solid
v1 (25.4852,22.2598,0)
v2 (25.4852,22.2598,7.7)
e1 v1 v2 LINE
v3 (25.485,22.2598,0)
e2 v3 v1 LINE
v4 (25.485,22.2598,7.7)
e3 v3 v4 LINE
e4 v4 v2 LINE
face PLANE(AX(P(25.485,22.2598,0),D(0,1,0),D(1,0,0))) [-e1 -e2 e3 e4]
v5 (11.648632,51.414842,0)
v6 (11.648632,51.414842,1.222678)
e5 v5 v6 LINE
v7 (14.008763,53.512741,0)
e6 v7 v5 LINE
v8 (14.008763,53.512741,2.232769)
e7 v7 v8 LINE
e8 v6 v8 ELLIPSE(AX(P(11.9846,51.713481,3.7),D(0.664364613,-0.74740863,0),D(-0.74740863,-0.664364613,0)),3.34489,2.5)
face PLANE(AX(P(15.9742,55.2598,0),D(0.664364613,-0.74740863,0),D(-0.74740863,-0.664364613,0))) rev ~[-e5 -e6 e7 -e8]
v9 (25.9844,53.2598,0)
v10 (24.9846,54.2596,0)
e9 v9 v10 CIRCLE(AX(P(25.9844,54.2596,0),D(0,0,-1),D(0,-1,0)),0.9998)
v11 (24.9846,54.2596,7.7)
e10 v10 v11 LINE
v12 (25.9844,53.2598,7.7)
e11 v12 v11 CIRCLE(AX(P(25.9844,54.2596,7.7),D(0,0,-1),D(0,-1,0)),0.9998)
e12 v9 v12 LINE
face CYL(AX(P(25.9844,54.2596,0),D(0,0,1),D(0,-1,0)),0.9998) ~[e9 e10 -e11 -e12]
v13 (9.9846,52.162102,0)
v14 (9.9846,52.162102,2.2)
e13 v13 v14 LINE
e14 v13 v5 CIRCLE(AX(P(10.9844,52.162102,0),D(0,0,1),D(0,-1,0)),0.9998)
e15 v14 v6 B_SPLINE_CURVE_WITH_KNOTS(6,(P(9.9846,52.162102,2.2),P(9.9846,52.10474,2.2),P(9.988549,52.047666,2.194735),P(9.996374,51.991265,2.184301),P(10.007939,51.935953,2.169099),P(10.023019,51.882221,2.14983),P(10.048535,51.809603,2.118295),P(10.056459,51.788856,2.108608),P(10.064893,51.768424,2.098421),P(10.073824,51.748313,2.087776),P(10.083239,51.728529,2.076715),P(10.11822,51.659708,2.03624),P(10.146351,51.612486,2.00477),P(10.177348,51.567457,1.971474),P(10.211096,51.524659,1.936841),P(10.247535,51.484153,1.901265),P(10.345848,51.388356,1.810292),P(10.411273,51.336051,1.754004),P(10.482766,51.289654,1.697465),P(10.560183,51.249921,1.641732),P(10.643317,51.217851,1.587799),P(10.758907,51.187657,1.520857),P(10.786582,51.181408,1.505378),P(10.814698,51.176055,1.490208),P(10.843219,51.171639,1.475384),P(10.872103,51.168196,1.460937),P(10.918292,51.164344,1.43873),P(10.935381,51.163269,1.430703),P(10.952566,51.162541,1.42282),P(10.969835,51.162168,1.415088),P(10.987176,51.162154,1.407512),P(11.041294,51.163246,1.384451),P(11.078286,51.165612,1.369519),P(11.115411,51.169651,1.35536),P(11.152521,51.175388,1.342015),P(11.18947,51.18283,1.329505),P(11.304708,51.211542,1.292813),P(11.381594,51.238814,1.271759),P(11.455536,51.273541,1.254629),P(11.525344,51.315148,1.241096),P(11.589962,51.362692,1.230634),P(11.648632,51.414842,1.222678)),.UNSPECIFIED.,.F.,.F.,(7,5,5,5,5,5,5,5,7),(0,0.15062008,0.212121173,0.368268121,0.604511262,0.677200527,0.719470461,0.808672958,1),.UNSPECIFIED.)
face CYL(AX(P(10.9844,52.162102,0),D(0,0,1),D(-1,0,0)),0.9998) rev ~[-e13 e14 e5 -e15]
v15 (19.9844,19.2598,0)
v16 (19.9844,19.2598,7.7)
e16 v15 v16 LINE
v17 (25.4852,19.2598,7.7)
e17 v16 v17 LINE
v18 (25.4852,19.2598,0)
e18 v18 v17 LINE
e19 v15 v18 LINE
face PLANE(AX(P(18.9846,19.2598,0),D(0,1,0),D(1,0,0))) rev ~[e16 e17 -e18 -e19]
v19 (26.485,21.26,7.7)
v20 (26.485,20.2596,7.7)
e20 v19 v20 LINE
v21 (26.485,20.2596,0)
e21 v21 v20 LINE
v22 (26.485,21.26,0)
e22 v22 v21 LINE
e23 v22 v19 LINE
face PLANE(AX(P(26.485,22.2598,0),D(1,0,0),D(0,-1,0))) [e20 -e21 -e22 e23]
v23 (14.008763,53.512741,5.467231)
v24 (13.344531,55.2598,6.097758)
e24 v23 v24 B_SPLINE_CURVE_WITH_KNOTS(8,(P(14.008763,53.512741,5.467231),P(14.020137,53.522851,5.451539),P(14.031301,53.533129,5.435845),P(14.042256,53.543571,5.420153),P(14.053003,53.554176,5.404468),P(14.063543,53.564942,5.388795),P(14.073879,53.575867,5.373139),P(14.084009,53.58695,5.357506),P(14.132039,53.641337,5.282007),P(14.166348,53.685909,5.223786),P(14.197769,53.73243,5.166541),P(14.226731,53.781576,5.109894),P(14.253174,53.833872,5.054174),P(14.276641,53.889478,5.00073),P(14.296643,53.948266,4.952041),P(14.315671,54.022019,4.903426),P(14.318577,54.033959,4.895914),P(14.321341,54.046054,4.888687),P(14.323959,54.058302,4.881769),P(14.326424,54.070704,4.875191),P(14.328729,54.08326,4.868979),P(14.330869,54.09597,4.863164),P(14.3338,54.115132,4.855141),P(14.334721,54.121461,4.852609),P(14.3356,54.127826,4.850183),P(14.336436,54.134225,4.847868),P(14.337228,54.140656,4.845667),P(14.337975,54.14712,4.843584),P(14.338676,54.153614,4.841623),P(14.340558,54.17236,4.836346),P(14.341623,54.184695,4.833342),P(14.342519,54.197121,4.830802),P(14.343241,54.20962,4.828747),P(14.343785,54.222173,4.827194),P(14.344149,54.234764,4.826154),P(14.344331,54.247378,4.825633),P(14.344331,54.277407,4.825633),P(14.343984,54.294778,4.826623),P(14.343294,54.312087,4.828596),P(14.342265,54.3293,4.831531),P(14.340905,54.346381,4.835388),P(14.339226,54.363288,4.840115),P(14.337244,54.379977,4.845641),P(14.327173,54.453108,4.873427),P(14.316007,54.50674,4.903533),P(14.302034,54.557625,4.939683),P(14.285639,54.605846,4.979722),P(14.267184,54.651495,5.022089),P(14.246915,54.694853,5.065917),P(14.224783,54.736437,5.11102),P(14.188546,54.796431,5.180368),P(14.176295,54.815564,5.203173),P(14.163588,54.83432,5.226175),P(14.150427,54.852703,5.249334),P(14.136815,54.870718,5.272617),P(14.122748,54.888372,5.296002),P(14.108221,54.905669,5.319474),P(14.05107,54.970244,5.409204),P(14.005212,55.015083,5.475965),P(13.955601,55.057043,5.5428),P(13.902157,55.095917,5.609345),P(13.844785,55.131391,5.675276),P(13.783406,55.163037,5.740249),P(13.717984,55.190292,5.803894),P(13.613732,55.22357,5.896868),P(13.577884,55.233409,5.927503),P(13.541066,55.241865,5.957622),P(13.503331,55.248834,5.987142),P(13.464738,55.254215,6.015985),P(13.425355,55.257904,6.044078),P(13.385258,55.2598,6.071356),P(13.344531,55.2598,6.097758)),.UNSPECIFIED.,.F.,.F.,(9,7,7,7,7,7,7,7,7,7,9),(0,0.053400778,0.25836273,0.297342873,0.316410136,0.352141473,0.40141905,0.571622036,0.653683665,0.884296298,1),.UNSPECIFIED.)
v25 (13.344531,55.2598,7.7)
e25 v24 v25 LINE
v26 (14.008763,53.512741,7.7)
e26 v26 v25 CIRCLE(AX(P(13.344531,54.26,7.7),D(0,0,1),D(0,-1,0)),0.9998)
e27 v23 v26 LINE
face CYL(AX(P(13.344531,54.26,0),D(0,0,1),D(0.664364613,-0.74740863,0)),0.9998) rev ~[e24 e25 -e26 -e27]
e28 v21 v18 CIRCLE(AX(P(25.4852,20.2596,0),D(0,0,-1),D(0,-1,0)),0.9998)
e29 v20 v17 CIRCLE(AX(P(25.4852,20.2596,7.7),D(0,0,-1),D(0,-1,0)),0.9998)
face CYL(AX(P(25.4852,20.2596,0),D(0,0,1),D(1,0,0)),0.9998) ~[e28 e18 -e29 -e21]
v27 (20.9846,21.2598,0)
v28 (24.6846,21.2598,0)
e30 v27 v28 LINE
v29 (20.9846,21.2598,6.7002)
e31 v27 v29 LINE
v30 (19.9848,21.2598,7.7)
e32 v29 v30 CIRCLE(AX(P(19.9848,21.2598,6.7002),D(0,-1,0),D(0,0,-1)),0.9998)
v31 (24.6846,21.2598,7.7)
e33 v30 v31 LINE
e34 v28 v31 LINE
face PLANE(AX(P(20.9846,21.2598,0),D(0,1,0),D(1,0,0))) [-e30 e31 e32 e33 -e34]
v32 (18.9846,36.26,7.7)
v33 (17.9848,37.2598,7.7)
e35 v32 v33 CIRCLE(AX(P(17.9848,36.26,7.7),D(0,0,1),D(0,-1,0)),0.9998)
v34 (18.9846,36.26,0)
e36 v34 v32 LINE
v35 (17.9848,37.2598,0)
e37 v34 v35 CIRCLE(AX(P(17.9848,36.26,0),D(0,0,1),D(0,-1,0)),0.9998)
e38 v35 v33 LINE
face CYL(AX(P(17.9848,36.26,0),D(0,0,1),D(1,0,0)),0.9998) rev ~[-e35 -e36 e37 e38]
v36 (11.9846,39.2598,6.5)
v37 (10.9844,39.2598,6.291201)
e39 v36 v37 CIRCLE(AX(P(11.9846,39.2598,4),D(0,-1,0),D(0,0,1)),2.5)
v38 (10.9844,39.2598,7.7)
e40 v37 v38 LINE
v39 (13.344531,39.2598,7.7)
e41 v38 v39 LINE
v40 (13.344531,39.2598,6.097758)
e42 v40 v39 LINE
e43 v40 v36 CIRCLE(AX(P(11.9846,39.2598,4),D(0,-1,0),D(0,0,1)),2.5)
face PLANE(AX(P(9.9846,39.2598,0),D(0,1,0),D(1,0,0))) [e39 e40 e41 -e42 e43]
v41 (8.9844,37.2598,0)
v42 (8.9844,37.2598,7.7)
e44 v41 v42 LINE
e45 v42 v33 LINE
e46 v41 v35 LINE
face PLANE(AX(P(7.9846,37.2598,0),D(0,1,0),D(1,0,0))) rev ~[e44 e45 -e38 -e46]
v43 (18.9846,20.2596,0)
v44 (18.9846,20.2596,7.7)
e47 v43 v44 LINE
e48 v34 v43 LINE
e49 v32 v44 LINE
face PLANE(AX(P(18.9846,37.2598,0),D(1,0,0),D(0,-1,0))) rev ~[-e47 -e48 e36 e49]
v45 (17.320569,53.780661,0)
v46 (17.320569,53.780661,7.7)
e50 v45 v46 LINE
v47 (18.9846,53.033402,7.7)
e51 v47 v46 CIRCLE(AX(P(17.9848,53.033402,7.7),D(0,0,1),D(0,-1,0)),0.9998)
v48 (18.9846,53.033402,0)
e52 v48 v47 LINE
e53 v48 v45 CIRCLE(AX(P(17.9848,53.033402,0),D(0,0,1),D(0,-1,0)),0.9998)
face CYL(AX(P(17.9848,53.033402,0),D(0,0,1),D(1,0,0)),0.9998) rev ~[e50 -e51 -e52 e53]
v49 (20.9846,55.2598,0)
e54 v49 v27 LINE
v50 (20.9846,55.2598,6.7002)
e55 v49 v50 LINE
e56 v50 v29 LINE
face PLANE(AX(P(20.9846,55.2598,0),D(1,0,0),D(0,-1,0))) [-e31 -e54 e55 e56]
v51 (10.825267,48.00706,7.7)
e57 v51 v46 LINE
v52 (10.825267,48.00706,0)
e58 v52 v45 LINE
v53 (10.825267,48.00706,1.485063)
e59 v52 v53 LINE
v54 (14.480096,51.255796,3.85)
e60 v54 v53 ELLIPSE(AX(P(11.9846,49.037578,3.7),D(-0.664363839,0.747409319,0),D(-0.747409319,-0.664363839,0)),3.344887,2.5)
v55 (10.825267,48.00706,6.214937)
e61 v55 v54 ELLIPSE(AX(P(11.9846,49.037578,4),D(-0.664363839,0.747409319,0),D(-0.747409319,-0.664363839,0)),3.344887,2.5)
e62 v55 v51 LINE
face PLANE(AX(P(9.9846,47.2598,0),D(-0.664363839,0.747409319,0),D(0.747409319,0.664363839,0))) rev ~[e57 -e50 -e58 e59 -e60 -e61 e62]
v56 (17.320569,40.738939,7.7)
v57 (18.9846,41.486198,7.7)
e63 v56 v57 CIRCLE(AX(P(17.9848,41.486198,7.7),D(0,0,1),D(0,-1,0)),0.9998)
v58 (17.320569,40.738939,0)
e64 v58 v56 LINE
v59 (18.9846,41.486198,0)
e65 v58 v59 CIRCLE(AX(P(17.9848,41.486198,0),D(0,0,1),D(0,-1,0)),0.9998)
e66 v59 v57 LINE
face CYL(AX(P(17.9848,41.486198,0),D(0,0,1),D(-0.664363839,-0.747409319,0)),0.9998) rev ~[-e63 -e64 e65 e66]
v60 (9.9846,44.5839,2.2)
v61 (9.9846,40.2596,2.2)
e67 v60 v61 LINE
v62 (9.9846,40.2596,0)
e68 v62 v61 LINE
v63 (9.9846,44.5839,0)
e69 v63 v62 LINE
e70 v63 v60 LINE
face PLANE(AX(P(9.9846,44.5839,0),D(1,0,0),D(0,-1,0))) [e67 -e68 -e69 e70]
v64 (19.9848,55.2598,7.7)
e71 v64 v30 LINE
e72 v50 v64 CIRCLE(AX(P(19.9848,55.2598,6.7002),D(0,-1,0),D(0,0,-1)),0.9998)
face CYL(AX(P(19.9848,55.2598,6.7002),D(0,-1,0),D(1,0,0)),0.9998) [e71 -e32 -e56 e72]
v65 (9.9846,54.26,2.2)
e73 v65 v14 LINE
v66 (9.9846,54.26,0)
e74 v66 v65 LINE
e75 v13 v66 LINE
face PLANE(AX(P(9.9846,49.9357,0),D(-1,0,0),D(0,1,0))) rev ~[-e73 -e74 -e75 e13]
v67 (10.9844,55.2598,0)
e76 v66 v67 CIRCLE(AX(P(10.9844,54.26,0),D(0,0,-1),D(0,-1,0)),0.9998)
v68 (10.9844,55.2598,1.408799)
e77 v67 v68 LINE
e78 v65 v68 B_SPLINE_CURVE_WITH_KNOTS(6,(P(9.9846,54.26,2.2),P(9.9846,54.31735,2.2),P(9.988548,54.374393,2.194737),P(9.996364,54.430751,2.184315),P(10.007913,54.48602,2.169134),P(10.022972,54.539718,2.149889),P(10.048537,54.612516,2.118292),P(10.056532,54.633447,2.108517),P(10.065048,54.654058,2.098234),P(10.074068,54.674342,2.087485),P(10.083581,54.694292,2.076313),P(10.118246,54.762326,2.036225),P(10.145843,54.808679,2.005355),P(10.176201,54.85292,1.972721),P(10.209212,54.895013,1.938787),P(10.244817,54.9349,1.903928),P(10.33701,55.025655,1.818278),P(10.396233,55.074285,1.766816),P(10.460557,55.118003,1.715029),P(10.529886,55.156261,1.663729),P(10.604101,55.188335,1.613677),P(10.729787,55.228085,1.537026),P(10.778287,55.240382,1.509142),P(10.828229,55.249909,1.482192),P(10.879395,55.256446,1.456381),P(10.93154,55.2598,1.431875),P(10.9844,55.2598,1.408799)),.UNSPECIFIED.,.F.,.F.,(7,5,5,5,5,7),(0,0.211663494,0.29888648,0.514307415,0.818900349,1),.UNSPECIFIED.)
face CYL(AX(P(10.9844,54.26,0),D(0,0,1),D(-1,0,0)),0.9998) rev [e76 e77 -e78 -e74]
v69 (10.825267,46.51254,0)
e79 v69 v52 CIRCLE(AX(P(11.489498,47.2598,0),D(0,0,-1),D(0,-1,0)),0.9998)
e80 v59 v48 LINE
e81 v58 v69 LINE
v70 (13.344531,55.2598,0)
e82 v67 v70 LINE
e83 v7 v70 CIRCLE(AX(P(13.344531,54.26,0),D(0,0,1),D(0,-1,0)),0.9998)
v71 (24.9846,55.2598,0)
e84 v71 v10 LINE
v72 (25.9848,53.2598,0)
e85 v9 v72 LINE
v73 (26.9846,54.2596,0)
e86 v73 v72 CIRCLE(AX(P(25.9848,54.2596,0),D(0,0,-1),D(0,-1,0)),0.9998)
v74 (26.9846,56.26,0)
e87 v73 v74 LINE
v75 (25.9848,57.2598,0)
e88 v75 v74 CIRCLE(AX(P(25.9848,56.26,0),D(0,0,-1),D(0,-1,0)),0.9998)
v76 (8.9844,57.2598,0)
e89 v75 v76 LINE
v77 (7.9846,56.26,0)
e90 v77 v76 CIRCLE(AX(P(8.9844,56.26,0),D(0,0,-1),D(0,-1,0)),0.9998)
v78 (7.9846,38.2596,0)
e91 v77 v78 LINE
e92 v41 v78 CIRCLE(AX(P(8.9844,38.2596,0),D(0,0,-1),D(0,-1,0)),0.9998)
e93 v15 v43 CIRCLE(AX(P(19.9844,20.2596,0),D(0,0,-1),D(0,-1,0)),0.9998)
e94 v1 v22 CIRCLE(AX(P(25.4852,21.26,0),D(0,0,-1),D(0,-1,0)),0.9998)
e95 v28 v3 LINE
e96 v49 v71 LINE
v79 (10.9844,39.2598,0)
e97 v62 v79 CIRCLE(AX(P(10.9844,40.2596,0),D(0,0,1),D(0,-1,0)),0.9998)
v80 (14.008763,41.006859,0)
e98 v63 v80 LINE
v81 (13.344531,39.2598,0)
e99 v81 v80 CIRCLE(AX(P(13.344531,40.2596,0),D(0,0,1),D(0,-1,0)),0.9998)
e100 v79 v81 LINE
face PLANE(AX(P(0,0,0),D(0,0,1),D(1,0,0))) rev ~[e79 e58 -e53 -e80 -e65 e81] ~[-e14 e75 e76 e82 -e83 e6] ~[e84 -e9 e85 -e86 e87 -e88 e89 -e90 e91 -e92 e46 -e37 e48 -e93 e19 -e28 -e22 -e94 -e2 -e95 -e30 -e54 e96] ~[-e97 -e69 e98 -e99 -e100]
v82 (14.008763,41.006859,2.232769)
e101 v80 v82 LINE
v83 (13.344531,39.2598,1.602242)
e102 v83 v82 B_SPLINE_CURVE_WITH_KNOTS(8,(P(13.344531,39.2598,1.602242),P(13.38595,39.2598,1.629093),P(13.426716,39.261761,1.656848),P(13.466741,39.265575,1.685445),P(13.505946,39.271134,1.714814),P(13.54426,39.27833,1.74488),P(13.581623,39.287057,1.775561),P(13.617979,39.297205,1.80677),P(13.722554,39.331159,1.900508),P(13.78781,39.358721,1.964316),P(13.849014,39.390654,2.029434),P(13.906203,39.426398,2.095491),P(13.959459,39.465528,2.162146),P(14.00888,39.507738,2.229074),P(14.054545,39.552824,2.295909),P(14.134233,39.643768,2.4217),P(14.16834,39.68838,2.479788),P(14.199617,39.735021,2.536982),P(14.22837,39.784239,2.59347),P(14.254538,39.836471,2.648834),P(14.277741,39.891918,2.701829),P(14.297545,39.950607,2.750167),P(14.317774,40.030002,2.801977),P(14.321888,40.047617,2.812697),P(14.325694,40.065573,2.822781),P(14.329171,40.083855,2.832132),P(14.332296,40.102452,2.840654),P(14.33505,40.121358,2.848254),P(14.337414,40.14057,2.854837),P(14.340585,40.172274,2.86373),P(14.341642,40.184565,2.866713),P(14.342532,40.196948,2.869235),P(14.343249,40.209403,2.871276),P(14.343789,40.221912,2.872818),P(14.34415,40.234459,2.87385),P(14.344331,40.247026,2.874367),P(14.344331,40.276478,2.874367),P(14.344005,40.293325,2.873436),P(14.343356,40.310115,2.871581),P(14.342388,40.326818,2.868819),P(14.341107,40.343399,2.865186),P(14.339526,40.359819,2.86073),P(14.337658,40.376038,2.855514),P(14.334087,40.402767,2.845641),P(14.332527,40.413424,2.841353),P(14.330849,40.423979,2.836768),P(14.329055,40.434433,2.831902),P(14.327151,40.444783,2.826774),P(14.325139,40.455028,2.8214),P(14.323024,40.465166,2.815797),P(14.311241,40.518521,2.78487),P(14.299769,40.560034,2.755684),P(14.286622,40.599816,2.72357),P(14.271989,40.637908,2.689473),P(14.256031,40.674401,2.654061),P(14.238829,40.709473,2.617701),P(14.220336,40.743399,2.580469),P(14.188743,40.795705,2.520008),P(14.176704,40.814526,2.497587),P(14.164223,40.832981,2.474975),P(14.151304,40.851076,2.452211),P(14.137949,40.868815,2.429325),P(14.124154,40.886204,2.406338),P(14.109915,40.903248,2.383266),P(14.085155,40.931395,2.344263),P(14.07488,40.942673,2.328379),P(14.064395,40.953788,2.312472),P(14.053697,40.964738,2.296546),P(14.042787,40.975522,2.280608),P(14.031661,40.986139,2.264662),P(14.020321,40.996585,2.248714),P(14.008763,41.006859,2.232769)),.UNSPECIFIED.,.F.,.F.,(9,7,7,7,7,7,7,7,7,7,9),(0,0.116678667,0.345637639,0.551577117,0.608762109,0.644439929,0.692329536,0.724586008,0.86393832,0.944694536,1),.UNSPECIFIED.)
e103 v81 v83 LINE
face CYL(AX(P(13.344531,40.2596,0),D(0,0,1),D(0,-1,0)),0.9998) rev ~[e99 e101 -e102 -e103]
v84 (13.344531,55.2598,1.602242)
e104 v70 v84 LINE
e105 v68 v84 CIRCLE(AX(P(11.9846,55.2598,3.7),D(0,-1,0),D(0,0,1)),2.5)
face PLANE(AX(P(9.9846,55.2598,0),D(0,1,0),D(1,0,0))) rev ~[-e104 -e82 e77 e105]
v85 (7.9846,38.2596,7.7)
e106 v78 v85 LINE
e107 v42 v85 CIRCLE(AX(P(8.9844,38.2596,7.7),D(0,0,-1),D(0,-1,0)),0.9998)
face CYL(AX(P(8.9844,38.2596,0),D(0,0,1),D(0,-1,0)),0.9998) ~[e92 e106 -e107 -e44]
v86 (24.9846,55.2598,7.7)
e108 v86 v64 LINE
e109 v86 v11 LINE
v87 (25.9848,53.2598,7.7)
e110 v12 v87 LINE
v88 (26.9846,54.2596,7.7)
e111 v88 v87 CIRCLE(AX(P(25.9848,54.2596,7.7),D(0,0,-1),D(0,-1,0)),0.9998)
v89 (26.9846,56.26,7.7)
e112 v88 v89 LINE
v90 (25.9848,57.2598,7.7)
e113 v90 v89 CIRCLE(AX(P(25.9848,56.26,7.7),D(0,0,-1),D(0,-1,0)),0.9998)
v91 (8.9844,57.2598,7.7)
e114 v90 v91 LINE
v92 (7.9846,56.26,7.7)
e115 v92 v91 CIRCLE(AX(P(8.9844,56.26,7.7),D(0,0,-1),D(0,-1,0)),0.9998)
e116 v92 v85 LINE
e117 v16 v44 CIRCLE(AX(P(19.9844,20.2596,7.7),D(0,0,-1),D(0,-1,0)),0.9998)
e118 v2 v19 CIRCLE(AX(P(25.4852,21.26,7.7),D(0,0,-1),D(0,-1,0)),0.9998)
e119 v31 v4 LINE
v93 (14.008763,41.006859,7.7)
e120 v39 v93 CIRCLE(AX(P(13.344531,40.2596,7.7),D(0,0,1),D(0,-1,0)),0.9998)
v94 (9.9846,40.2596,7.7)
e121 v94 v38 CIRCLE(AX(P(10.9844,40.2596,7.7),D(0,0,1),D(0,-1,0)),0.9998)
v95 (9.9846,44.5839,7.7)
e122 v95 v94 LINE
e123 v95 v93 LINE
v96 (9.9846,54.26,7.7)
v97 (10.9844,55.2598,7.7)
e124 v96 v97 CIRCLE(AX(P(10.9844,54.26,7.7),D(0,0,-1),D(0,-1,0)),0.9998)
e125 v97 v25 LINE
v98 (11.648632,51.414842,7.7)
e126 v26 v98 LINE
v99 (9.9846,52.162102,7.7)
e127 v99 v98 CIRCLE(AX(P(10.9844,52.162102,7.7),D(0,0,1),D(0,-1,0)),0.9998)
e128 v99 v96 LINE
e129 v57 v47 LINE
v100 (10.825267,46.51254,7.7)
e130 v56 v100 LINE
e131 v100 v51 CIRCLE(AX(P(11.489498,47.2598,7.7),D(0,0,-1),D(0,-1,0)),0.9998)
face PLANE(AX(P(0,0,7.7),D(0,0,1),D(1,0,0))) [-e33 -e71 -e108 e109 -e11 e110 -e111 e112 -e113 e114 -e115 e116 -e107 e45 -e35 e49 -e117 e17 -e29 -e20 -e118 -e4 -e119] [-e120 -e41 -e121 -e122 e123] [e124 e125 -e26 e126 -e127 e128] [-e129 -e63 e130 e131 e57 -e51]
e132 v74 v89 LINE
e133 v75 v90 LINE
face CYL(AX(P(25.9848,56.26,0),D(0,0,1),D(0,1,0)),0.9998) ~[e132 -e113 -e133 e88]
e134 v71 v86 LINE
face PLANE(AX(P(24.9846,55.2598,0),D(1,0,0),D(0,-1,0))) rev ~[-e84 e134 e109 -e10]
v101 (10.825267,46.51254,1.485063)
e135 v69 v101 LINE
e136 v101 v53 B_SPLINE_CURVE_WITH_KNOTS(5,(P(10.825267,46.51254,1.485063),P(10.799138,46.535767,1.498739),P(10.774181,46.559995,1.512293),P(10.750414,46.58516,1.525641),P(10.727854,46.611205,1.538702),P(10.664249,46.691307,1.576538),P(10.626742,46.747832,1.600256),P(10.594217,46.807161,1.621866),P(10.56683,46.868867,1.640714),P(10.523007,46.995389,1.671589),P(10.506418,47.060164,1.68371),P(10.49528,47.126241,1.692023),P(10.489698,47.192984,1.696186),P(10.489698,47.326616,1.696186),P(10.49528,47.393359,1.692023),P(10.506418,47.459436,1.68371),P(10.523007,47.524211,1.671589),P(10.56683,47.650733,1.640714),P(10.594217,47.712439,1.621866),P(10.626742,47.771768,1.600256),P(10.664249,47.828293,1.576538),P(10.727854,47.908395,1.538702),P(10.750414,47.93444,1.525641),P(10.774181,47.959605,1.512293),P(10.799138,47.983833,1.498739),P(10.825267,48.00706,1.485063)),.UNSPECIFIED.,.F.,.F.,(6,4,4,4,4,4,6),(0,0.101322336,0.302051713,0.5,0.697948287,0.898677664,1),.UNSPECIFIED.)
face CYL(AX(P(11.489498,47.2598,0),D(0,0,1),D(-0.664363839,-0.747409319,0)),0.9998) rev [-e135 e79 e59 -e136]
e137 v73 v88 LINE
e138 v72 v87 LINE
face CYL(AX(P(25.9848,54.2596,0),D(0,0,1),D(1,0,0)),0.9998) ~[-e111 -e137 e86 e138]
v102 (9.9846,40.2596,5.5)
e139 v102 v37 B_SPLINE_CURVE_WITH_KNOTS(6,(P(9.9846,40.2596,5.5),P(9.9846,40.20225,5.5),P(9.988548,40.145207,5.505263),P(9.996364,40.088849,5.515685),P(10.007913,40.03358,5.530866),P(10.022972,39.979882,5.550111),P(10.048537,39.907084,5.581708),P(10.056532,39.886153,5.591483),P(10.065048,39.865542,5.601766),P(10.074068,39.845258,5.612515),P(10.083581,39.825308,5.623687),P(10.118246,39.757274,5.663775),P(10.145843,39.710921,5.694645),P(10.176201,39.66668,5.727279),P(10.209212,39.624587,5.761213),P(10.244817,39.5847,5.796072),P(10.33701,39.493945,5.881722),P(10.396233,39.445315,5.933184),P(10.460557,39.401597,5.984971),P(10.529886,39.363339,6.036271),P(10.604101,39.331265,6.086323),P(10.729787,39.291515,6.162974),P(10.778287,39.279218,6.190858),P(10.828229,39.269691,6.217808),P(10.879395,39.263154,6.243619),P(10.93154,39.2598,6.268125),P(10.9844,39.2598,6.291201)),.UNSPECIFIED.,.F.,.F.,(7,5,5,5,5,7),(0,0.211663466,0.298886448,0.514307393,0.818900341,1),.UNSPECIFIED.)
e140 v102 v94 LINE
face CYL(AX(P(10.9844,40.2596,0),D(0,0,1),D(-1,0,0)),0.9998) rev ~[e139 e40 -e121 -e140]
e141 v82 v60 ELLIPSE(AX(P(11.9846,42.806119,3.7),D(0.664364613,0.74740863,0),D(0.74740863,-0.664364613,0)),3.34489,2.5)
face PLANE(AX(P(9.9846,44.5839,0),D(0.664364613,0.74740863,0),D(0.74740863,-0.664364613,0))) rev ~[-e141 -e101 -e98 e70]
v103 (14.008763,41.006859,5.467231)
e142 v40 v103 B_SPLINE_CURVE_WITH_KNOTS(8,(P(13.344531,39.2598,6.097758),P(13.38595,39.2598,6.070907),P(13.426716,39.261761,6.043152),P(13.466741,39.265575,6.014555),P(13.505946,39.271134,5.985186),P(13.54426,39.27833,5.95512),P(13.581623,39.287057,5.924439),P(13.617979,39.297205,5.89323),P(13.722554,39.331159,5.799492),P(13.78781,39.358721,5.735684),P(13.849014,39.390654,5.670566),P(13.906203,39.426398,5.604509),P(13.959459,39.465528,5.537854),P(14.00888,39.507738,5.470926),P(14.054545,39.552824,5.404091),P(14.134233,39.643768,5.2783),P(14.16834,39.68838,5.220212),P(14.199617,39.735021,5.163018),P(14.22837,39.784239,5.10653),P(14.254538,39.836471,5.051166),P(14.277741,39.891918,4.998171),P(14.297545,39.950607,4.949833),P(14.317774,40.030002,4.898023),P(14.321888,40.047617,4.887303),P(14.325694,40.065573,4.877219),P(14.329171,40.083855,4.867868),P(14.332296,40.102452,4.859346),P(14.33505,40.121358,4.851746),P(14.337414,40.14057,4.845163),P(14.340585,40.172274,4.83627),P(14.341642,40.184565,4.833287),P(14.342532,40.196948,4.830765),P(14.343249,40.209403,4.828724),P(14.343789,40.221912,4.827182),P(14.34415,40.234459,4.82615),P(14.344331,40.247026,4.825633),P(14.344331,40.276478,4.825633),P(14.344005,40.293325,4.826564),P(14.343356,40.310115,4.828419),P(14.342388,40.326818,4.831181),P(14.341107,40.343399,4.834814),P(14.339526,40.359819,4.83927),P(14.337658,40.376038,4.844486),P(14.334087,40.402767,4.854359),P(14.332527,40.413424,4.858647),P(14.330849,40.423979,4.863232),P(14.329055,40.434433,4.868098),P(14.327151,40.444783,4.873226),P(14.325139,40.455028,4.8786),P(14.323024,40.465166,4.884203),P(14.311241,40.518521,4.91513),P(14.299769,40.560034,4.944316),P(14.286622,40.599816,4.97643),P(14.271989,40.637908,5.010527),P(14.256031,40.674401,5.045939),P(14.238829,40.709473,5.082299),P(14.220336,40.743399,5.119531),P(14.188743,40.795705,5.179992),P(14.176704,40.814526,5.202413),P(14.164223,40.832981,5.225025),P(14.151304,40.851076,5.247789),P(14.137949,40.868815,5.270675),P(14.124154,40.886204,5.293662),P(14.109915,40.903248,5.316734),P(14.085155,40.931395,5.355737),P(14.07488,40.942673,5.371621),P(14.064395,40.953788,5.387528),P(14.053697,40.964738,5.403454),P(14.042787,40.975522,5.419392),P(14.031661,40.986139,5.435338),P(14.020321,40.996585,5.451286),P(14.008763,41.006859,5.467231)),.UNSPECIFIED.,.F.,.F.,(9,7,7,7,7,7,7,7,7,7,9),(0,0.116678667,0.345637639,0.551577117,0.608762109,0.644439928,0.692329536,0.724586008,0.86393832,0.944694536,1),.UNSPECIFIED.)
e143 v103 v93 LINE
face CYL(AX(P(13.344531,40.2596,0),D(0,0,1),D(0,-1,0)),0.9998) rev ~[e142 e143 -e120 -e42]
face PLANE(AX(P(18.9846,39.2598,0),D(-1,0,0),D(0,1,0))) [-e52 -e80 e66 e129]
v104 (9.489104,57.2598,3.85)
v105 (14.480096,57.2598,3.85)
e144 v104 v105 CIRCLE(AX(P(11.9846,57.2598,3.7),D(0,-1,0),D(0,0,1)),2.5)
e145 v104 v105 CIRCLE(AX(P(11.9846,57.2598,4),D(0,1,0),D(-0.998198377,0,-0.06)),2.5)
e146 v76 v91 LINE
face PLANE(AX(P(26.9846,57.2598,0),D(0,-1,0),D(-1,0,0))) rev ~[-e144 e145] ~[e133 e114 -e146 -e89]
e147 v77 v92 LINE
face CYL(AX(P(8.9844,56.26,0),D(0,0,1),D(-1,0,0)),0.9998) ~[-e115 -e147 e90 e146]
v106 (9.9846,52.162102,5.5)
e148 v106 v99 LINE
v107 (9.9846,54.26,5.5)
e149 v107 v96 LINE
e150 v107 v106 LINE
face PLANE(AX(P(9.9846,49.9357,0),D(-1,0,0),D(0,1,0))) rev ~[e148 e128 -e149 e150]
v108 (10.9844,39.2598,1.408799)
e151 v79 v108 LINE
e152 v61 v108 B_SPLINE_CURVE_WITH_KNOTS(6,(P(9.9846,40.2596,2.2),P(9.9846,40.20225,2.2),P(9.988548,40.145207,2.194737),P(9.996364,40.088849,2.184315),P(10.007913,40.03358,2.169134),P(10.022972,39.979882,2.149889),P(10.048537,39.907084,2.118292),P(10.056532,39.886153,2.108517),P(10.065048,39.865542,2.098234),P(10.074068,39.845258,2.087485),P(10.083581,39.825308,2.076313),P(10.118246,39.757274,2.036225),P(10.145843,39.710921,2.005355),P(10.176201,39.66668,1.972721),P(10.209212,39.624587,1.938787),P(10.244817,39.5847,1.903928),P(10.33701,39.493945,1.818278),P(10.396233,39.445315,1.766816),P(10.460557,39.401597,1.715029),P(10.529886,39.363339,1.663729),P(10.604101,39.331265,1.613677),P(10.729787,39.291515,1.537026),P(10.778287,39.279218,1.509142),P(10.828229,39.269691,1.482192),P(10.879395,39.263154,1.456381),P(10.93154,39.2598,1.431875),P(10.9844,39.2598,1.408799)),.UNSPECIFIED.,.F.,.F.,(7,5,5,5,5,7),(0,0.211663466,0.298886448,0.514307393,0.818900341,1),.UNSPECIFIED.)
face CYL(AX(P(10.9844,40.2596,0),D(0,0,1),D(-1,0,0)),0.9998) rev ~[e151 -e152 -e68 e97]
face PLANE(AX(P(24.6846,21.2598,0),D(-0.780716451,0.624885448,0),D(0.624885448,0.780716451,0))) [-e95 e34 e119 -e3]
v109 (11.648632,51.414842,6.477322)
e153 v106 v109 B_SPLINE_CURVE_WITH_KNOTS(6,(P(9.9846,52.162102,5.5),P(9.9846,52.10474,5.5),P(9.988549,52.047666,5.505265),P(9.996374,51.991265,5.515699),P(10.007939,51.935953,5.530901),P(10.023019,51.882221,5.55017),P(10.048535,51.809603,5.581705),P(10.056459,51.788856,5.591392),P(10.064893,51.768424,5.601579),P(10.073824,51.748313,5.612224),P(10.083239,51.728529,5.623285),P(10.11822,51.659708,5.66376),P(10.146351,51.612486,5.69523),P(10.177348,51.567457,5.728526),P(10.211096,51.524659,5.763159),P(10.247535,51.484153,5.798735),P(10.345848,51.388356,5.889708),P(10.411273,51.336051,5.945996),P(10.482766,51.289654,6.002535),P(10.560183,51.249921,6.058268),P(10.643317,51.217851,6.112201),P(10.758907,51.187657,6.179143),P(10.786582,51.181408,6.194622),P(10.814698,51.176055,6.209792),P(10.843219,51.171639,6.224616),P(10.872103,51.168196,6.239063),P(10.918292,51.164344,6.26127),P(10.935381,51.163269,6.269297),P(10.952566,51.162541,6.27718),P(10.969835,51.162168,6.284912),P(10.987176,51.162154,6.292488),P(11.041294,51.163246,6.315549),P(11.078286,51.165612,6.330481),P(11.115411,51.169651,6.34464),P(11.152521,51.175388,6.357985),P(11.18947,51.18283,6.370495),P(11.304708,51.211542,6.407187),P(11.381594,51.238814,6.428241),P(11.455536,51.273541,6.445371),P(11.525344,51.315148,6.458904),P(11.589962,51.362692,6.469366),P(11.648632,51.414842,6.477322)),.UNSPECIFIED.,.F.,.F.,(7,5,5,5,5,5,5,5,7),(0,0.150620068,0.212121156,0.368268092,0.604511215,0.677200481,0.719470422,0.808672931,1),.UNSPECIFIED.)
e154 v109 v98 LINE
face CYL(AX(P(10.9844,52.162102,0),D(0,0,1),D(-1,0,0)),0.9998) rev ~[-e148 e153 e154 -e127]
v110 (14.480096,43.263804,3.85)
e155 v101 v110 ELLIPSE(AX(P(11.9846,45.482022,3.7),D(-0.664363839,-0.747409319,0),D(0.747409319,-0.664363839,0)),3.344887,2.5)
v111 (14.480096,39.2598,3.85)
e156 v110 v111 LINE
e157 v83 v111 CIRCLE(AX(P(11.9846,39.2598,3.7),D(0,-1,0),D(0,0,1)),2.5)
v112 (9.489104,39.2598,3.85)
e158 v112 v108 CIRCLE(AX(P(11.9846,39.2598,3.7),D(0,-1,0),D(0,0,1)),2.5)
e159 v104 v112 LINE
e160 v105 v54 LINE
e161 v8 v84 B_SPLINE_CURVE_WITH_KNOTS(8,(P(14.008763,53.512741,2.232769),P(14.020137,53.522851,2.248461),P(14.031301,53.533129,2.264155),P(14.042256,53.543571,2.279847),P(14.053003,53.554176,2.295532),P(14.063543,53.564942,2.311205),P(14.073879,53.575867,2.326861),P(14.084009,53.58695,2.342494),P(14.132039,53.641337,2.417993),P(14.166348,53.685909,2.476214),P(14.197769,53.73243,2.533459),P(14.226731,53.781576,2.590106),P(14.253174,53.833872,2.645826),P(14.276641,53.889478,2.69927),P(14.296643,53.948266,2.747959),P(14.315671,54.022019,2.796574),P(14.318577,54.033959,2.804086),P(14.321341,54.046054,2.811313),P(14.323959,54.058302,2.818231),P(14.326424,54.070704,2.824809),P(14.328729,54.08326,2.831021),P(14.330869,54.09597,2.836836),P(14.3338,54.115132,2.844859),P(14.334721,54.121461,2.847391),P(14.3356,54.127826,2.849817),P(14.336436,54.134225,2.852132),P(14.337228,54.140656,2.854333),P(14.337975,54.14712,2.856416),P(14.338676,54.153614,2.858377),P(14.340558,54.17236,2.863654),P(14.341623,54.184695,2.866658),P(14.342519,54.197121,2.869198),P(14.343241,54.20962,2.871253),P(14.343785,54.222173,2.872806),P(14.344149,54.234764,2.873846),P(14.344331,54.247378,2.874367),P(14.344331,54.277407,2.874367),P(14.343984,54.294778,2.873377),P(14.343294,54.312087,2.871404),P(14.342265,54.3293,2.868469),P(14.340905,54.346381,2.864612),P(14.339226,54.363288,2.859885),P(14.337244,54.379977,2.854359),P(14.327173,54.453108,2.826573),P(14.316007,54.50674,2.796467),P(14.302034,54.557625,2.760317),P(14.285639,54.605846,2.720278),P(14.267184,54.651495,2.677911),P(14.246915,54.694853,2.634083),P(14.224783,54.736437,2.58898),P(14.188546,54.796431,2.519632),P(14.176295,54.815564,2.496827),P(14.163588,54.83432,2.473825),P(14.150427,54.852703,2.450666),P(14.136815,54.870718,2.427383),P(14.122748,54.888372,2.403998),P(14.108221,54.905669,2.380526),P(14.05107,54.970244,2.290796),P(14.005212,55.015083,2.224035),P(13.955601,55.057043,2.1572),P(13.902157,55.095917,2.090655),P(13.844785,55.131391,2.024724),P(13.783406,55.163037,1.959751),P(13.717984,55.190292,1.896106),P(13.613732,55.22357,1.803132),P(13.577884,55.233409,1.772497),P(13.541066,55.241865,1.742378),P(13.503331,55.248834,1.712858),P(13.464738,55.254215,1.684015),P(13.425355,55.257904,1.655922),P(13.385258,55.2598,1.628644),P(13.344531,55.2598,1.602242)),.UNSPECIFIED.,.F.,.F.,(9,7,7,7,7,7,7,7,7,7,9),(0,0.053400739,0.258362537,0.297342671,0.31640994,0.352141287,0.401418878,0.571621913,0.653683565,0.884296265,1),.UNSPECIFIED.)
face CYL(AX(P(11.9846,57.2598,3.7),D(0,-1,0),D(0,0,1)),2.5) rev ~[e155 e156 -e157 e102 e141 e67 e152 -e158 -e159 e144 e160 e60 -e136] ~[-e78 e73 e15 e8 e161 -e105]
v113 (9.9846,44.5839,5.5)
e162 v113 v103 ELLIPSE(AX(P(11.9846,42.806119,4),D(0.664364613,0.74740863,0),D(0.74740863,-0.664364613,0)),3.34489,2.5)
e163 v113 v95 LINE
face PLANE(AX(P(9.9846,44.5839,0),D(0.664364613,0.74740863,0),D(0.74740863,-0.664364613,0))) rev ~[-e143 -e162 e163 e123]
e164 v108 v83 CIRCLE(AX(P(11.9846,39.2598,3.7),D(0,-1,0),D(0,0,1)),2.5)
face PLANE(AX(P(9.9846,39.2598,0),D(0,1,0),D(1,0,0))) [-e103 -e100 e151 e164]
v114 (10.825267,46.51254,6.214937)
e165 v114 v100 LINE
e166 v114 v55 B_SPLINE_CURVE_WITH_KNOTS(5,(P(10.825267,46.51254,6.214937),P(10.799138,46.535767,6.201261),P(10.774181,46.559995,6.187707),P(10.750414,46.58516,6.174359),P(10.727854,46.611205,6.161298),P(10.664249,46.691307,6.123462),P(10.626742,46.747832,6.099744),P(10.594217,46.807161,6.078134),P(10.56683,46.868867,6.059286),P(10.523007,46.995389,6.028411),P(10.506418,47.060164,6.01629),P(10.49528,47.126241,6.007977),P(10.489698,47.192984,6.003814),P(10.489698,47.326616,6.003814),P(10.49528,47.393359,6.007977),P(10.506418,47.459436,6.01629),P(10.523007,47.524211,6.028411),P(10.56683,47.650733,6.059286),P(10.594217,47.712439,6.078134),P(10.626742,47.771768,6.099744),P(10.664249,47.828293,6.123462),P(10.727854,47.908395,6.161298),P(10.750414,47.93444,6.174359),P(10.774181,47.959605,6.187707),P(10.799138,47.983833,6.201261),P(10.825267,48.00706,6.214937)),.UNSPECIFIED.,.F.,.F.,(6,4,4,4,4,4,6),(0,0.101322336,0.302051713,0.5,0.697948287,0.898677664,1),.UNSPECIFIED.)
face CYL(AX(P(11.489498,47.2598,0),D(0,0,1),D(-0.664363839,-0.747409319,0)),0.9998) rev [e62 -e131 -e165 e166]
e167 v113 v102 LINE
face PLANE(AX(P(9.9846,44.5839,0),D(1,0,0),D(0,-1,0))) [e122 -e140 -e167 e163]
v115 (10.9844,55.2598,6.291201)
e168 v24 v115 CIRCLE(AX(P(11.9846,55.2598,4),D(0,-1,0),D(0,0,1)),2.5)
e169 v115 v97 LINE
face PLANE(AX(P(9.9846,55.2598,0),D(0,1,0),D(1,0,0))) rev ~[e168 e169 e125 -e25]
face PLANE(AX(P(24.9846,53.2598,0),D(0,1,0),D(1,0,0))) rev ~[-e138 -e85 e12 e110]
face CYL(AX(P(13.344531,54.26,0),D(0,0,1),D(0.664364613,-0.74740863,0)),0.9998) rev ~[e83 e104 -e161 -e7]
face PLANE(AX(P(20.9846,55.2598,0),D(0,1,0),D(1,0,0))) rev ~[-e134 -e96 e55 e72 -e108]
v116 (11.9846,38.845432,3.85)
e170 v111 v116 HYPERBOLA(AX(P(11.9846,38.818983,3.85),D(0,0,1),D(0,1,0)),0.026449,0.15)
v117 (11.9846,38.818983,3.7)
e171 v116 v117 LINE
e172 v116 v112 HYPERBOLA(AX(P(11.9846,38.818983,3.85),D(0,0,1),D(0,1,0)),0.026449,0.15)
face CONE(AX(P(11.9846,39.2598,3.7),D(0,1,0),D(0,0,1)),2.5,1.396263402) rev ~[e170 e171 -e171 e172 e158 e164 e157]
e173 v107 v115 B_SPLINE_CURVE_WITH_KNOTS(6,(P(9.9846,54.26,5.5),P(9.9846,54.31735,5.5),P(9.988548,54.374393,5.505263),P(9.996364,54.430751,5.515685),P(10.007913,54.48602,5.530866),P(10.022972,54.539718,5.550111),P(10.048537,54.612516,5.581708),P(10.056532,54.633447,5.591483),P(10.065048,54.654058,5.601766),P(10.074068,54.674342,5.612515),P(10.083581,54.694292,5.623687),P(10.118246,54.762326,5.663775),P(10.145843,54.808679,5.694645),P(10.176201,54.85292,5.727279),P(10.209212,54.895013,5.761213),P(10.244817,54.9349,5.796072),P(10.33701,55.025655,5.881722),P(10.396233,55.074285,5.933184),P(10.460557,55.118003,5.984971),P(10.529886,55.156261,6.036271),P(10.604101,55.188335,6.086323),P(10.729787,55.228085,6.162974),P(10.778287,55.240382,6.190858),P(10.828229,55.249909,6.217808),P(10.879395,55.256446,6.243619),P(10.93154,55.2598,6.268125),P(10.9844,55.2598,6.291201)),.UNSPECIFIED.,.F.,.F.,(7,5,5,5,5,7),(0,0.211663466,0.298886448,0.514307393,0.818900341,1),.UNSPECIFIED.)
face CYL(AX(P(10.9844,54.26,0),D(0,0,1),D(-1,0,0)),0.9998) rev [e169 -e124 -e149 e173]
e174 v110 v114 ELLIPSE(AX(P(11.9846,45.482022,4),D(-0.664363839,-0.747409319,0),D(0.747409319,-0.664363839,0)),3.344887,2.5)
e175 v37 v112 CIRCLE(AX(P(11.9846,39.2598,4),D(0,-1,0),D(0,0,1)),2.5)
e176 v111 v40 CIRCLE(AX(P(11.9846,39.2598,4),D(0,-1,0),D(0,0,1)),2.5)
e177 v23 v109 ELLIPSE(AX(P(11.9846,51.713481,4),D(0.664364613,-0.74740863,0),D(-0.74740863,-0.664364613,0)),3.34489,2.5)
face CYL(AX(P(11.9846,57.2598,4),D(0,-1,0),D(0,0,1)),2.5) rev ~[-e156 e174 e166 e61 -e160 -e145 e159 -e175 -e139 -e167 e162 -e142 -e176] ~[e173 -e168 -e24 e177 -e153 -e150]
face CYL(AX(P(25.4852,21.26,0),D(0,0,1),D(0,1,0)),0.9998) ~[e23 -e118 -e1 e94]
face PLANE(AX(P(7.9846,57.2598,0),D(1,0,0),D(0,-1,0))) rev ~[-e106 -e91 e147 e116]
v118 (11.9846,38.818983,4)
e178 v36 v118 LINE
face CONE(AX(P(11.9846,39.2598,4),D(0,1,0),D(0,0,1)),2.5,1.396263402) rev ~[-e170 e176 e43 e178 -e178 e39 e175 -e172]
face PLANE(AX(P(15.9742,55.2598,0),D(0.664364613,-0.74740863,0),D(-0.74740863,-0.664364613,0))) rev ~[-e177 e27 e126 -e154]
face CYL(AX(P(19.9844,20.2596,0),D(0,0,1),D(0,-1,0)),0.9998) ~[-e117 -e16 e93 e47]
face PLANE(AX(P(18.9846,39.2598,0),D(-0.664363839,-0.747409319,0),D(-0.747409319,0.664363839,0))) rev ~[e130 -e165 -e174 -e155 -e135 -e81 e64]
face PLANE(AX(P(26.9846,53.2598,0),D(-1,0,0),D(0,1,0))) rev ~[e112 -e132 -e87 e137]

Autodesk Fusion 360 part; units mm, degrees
sketch "Sketch1" plane through (0, 0, 0) normal (0, 0, 1) x (1, 0, 0)
  line L0 (20.9846, 55.2598) -> (20.9846, 21.2598)
  line L1 (20.9846, 55.2598) -> (24.9846, 55.2598)
  line L2 (24.9846, 55.2598) -> (24.9846, 53.2598)
  line L3 (24.9846, 53.2598) -> (26.9846, 53.2598)
  line L4 (26.9846, 53.2598) -> (26.9846, 57.2598)
  line L5 (26.9846, 57.2598) -> (7.9846, 57.2598)
  line L6 (7.9846, 57.2598) -> (7.9846, 37.2598)
  line L7 (7.9846, 37.2598) -> (18.9846, 37.2598)
  line L8 (18.9846, 37.2598) -> (18.9846, 19.2598)
  line L9 (18.9846, 19.2598) -> (26.485, 19.2598)
  line L10 (20.9846, 21.2598) -> (24.6846, 21.2598)
  line L11 (24.6846, 21.2598) -> (25.485, 22.2598)
  line L12 (25.485, 22.2598) -> (26.485, 22.2598)
  line L13 (26.485, 22.2598) -> (26.485, 19.2598)
  line L14 (9.9846, 55.2598) -> (15.9742, 55.2598)
  line L15 (15.9742, 55.2598) -> (9.9846, 49.9357)
  line L16 (9.9846, 49.9357) -> (9.9846, 55.2598)
  line L17 (9.9846, 44.5839) -> (9.9846, 39.2598)
  line L18 (9.9846, 39.2598) -> (15.9742, 39.2598)
  line L19 (9.9846, 44.5839) -> (15.9742, 39.2598)
  line L20 (9.9846, 47.2598) -> (18.9846, 55.2598)
  line L21 (18.9846, 39.2598) -> (9.9846, 47.2598)
  line L22 (18.9846, 39.2598) -> (18.9846, 55.2598)
  dimension "d1" = 2
  dimension "d2" = 4
  dimension "d3" = 2
  dimension "d4" = 2
  dimension "d5" = 13
  dimension "d6" = 34
  dimension "d7" = 1
  dimension "d8" = 3.7
  dimension "d9" = 1
  dimension "d10" = 2
  dimension "d11" = 20
  dimension "d15" = 2
  dimension "d25" = 2
  dimension "d26" = 2
  dimension "d27" = 2
  dimension "d29" = 2
  dimension "d30" = 2
  dimension "d31" = 2
  dimension "d32" = 2
  dimension "d34" = 2
  dimension "d35" = 2
extrude "Extrude1" add sketch "Sketch1" along normal blind 7.7
fillet "Fillet1" radius 1 9 edges at (7.9846, 37.2598, 3.85) (18.9846, 37.2598, 3.85) (18.9846, 19.2598, 3.85) (26.485, 19.2598, 3.85) (7.9846, 57.2598, 3.85) (26.485, 22.2598, 3.85) (24.9846, 53.2598, 3.85) (26.9846, 53.2598, 3.85) (26.9846, 57.2598, 3.85)
fillet "Fillet1" radius 1 9 edges at (9.9846, 55.2598, 3.85) (15.9742, 55.2598, 3.85) (15.9742, 39.2598, 3.85) (9.9846, 39.2598, 3.85) (20.9846, 38.2598, 7.7) (9.9846, 49.9357, 3.85) (9.9846, 47.2598, 3.85) (18.9846, 55.2598, 3.85) (18.9846, 39.2598, 3.85)
sketch "Sketch2" plane through (0, 57.2598, 0) normal (0, 1, 0) x (-1, 0, 0)
  line L0 (-25.9846, 7.7) -> (-25.9846, 0)
  line L1 (-25.9846, 0) -> (-8.9846, 0)
  line L2 (-8.9846, 0) -> (-8.9846, 7.7)
  line L3 (-8.9846, 7.7) -> (-25.9846, 7.7)
  line L4 (-26.9846, 7.7) -> (-26.9846, 0)
  line L5 (-7.9846, 0) -> (-7.9846, 7.7)
  line L6 (-20.9846, 0) -> (-20.9846, 6.7)
  point P0 (-11.9846, 4)
  point P1 (-20.9846, 0)
  point P2 (-11.9846, 3.7)
  dimension "d16" = 4
  dimension "d22" = 9
  dimension "d23" = 9
  dimension "d24" = 4
hole "Hole1" at (11.9846, 57.2598, 4) at (11.9846, 57.2598, 3.7) direction (0, -1, 0) diameter 5 depth 18 tip angle 160
